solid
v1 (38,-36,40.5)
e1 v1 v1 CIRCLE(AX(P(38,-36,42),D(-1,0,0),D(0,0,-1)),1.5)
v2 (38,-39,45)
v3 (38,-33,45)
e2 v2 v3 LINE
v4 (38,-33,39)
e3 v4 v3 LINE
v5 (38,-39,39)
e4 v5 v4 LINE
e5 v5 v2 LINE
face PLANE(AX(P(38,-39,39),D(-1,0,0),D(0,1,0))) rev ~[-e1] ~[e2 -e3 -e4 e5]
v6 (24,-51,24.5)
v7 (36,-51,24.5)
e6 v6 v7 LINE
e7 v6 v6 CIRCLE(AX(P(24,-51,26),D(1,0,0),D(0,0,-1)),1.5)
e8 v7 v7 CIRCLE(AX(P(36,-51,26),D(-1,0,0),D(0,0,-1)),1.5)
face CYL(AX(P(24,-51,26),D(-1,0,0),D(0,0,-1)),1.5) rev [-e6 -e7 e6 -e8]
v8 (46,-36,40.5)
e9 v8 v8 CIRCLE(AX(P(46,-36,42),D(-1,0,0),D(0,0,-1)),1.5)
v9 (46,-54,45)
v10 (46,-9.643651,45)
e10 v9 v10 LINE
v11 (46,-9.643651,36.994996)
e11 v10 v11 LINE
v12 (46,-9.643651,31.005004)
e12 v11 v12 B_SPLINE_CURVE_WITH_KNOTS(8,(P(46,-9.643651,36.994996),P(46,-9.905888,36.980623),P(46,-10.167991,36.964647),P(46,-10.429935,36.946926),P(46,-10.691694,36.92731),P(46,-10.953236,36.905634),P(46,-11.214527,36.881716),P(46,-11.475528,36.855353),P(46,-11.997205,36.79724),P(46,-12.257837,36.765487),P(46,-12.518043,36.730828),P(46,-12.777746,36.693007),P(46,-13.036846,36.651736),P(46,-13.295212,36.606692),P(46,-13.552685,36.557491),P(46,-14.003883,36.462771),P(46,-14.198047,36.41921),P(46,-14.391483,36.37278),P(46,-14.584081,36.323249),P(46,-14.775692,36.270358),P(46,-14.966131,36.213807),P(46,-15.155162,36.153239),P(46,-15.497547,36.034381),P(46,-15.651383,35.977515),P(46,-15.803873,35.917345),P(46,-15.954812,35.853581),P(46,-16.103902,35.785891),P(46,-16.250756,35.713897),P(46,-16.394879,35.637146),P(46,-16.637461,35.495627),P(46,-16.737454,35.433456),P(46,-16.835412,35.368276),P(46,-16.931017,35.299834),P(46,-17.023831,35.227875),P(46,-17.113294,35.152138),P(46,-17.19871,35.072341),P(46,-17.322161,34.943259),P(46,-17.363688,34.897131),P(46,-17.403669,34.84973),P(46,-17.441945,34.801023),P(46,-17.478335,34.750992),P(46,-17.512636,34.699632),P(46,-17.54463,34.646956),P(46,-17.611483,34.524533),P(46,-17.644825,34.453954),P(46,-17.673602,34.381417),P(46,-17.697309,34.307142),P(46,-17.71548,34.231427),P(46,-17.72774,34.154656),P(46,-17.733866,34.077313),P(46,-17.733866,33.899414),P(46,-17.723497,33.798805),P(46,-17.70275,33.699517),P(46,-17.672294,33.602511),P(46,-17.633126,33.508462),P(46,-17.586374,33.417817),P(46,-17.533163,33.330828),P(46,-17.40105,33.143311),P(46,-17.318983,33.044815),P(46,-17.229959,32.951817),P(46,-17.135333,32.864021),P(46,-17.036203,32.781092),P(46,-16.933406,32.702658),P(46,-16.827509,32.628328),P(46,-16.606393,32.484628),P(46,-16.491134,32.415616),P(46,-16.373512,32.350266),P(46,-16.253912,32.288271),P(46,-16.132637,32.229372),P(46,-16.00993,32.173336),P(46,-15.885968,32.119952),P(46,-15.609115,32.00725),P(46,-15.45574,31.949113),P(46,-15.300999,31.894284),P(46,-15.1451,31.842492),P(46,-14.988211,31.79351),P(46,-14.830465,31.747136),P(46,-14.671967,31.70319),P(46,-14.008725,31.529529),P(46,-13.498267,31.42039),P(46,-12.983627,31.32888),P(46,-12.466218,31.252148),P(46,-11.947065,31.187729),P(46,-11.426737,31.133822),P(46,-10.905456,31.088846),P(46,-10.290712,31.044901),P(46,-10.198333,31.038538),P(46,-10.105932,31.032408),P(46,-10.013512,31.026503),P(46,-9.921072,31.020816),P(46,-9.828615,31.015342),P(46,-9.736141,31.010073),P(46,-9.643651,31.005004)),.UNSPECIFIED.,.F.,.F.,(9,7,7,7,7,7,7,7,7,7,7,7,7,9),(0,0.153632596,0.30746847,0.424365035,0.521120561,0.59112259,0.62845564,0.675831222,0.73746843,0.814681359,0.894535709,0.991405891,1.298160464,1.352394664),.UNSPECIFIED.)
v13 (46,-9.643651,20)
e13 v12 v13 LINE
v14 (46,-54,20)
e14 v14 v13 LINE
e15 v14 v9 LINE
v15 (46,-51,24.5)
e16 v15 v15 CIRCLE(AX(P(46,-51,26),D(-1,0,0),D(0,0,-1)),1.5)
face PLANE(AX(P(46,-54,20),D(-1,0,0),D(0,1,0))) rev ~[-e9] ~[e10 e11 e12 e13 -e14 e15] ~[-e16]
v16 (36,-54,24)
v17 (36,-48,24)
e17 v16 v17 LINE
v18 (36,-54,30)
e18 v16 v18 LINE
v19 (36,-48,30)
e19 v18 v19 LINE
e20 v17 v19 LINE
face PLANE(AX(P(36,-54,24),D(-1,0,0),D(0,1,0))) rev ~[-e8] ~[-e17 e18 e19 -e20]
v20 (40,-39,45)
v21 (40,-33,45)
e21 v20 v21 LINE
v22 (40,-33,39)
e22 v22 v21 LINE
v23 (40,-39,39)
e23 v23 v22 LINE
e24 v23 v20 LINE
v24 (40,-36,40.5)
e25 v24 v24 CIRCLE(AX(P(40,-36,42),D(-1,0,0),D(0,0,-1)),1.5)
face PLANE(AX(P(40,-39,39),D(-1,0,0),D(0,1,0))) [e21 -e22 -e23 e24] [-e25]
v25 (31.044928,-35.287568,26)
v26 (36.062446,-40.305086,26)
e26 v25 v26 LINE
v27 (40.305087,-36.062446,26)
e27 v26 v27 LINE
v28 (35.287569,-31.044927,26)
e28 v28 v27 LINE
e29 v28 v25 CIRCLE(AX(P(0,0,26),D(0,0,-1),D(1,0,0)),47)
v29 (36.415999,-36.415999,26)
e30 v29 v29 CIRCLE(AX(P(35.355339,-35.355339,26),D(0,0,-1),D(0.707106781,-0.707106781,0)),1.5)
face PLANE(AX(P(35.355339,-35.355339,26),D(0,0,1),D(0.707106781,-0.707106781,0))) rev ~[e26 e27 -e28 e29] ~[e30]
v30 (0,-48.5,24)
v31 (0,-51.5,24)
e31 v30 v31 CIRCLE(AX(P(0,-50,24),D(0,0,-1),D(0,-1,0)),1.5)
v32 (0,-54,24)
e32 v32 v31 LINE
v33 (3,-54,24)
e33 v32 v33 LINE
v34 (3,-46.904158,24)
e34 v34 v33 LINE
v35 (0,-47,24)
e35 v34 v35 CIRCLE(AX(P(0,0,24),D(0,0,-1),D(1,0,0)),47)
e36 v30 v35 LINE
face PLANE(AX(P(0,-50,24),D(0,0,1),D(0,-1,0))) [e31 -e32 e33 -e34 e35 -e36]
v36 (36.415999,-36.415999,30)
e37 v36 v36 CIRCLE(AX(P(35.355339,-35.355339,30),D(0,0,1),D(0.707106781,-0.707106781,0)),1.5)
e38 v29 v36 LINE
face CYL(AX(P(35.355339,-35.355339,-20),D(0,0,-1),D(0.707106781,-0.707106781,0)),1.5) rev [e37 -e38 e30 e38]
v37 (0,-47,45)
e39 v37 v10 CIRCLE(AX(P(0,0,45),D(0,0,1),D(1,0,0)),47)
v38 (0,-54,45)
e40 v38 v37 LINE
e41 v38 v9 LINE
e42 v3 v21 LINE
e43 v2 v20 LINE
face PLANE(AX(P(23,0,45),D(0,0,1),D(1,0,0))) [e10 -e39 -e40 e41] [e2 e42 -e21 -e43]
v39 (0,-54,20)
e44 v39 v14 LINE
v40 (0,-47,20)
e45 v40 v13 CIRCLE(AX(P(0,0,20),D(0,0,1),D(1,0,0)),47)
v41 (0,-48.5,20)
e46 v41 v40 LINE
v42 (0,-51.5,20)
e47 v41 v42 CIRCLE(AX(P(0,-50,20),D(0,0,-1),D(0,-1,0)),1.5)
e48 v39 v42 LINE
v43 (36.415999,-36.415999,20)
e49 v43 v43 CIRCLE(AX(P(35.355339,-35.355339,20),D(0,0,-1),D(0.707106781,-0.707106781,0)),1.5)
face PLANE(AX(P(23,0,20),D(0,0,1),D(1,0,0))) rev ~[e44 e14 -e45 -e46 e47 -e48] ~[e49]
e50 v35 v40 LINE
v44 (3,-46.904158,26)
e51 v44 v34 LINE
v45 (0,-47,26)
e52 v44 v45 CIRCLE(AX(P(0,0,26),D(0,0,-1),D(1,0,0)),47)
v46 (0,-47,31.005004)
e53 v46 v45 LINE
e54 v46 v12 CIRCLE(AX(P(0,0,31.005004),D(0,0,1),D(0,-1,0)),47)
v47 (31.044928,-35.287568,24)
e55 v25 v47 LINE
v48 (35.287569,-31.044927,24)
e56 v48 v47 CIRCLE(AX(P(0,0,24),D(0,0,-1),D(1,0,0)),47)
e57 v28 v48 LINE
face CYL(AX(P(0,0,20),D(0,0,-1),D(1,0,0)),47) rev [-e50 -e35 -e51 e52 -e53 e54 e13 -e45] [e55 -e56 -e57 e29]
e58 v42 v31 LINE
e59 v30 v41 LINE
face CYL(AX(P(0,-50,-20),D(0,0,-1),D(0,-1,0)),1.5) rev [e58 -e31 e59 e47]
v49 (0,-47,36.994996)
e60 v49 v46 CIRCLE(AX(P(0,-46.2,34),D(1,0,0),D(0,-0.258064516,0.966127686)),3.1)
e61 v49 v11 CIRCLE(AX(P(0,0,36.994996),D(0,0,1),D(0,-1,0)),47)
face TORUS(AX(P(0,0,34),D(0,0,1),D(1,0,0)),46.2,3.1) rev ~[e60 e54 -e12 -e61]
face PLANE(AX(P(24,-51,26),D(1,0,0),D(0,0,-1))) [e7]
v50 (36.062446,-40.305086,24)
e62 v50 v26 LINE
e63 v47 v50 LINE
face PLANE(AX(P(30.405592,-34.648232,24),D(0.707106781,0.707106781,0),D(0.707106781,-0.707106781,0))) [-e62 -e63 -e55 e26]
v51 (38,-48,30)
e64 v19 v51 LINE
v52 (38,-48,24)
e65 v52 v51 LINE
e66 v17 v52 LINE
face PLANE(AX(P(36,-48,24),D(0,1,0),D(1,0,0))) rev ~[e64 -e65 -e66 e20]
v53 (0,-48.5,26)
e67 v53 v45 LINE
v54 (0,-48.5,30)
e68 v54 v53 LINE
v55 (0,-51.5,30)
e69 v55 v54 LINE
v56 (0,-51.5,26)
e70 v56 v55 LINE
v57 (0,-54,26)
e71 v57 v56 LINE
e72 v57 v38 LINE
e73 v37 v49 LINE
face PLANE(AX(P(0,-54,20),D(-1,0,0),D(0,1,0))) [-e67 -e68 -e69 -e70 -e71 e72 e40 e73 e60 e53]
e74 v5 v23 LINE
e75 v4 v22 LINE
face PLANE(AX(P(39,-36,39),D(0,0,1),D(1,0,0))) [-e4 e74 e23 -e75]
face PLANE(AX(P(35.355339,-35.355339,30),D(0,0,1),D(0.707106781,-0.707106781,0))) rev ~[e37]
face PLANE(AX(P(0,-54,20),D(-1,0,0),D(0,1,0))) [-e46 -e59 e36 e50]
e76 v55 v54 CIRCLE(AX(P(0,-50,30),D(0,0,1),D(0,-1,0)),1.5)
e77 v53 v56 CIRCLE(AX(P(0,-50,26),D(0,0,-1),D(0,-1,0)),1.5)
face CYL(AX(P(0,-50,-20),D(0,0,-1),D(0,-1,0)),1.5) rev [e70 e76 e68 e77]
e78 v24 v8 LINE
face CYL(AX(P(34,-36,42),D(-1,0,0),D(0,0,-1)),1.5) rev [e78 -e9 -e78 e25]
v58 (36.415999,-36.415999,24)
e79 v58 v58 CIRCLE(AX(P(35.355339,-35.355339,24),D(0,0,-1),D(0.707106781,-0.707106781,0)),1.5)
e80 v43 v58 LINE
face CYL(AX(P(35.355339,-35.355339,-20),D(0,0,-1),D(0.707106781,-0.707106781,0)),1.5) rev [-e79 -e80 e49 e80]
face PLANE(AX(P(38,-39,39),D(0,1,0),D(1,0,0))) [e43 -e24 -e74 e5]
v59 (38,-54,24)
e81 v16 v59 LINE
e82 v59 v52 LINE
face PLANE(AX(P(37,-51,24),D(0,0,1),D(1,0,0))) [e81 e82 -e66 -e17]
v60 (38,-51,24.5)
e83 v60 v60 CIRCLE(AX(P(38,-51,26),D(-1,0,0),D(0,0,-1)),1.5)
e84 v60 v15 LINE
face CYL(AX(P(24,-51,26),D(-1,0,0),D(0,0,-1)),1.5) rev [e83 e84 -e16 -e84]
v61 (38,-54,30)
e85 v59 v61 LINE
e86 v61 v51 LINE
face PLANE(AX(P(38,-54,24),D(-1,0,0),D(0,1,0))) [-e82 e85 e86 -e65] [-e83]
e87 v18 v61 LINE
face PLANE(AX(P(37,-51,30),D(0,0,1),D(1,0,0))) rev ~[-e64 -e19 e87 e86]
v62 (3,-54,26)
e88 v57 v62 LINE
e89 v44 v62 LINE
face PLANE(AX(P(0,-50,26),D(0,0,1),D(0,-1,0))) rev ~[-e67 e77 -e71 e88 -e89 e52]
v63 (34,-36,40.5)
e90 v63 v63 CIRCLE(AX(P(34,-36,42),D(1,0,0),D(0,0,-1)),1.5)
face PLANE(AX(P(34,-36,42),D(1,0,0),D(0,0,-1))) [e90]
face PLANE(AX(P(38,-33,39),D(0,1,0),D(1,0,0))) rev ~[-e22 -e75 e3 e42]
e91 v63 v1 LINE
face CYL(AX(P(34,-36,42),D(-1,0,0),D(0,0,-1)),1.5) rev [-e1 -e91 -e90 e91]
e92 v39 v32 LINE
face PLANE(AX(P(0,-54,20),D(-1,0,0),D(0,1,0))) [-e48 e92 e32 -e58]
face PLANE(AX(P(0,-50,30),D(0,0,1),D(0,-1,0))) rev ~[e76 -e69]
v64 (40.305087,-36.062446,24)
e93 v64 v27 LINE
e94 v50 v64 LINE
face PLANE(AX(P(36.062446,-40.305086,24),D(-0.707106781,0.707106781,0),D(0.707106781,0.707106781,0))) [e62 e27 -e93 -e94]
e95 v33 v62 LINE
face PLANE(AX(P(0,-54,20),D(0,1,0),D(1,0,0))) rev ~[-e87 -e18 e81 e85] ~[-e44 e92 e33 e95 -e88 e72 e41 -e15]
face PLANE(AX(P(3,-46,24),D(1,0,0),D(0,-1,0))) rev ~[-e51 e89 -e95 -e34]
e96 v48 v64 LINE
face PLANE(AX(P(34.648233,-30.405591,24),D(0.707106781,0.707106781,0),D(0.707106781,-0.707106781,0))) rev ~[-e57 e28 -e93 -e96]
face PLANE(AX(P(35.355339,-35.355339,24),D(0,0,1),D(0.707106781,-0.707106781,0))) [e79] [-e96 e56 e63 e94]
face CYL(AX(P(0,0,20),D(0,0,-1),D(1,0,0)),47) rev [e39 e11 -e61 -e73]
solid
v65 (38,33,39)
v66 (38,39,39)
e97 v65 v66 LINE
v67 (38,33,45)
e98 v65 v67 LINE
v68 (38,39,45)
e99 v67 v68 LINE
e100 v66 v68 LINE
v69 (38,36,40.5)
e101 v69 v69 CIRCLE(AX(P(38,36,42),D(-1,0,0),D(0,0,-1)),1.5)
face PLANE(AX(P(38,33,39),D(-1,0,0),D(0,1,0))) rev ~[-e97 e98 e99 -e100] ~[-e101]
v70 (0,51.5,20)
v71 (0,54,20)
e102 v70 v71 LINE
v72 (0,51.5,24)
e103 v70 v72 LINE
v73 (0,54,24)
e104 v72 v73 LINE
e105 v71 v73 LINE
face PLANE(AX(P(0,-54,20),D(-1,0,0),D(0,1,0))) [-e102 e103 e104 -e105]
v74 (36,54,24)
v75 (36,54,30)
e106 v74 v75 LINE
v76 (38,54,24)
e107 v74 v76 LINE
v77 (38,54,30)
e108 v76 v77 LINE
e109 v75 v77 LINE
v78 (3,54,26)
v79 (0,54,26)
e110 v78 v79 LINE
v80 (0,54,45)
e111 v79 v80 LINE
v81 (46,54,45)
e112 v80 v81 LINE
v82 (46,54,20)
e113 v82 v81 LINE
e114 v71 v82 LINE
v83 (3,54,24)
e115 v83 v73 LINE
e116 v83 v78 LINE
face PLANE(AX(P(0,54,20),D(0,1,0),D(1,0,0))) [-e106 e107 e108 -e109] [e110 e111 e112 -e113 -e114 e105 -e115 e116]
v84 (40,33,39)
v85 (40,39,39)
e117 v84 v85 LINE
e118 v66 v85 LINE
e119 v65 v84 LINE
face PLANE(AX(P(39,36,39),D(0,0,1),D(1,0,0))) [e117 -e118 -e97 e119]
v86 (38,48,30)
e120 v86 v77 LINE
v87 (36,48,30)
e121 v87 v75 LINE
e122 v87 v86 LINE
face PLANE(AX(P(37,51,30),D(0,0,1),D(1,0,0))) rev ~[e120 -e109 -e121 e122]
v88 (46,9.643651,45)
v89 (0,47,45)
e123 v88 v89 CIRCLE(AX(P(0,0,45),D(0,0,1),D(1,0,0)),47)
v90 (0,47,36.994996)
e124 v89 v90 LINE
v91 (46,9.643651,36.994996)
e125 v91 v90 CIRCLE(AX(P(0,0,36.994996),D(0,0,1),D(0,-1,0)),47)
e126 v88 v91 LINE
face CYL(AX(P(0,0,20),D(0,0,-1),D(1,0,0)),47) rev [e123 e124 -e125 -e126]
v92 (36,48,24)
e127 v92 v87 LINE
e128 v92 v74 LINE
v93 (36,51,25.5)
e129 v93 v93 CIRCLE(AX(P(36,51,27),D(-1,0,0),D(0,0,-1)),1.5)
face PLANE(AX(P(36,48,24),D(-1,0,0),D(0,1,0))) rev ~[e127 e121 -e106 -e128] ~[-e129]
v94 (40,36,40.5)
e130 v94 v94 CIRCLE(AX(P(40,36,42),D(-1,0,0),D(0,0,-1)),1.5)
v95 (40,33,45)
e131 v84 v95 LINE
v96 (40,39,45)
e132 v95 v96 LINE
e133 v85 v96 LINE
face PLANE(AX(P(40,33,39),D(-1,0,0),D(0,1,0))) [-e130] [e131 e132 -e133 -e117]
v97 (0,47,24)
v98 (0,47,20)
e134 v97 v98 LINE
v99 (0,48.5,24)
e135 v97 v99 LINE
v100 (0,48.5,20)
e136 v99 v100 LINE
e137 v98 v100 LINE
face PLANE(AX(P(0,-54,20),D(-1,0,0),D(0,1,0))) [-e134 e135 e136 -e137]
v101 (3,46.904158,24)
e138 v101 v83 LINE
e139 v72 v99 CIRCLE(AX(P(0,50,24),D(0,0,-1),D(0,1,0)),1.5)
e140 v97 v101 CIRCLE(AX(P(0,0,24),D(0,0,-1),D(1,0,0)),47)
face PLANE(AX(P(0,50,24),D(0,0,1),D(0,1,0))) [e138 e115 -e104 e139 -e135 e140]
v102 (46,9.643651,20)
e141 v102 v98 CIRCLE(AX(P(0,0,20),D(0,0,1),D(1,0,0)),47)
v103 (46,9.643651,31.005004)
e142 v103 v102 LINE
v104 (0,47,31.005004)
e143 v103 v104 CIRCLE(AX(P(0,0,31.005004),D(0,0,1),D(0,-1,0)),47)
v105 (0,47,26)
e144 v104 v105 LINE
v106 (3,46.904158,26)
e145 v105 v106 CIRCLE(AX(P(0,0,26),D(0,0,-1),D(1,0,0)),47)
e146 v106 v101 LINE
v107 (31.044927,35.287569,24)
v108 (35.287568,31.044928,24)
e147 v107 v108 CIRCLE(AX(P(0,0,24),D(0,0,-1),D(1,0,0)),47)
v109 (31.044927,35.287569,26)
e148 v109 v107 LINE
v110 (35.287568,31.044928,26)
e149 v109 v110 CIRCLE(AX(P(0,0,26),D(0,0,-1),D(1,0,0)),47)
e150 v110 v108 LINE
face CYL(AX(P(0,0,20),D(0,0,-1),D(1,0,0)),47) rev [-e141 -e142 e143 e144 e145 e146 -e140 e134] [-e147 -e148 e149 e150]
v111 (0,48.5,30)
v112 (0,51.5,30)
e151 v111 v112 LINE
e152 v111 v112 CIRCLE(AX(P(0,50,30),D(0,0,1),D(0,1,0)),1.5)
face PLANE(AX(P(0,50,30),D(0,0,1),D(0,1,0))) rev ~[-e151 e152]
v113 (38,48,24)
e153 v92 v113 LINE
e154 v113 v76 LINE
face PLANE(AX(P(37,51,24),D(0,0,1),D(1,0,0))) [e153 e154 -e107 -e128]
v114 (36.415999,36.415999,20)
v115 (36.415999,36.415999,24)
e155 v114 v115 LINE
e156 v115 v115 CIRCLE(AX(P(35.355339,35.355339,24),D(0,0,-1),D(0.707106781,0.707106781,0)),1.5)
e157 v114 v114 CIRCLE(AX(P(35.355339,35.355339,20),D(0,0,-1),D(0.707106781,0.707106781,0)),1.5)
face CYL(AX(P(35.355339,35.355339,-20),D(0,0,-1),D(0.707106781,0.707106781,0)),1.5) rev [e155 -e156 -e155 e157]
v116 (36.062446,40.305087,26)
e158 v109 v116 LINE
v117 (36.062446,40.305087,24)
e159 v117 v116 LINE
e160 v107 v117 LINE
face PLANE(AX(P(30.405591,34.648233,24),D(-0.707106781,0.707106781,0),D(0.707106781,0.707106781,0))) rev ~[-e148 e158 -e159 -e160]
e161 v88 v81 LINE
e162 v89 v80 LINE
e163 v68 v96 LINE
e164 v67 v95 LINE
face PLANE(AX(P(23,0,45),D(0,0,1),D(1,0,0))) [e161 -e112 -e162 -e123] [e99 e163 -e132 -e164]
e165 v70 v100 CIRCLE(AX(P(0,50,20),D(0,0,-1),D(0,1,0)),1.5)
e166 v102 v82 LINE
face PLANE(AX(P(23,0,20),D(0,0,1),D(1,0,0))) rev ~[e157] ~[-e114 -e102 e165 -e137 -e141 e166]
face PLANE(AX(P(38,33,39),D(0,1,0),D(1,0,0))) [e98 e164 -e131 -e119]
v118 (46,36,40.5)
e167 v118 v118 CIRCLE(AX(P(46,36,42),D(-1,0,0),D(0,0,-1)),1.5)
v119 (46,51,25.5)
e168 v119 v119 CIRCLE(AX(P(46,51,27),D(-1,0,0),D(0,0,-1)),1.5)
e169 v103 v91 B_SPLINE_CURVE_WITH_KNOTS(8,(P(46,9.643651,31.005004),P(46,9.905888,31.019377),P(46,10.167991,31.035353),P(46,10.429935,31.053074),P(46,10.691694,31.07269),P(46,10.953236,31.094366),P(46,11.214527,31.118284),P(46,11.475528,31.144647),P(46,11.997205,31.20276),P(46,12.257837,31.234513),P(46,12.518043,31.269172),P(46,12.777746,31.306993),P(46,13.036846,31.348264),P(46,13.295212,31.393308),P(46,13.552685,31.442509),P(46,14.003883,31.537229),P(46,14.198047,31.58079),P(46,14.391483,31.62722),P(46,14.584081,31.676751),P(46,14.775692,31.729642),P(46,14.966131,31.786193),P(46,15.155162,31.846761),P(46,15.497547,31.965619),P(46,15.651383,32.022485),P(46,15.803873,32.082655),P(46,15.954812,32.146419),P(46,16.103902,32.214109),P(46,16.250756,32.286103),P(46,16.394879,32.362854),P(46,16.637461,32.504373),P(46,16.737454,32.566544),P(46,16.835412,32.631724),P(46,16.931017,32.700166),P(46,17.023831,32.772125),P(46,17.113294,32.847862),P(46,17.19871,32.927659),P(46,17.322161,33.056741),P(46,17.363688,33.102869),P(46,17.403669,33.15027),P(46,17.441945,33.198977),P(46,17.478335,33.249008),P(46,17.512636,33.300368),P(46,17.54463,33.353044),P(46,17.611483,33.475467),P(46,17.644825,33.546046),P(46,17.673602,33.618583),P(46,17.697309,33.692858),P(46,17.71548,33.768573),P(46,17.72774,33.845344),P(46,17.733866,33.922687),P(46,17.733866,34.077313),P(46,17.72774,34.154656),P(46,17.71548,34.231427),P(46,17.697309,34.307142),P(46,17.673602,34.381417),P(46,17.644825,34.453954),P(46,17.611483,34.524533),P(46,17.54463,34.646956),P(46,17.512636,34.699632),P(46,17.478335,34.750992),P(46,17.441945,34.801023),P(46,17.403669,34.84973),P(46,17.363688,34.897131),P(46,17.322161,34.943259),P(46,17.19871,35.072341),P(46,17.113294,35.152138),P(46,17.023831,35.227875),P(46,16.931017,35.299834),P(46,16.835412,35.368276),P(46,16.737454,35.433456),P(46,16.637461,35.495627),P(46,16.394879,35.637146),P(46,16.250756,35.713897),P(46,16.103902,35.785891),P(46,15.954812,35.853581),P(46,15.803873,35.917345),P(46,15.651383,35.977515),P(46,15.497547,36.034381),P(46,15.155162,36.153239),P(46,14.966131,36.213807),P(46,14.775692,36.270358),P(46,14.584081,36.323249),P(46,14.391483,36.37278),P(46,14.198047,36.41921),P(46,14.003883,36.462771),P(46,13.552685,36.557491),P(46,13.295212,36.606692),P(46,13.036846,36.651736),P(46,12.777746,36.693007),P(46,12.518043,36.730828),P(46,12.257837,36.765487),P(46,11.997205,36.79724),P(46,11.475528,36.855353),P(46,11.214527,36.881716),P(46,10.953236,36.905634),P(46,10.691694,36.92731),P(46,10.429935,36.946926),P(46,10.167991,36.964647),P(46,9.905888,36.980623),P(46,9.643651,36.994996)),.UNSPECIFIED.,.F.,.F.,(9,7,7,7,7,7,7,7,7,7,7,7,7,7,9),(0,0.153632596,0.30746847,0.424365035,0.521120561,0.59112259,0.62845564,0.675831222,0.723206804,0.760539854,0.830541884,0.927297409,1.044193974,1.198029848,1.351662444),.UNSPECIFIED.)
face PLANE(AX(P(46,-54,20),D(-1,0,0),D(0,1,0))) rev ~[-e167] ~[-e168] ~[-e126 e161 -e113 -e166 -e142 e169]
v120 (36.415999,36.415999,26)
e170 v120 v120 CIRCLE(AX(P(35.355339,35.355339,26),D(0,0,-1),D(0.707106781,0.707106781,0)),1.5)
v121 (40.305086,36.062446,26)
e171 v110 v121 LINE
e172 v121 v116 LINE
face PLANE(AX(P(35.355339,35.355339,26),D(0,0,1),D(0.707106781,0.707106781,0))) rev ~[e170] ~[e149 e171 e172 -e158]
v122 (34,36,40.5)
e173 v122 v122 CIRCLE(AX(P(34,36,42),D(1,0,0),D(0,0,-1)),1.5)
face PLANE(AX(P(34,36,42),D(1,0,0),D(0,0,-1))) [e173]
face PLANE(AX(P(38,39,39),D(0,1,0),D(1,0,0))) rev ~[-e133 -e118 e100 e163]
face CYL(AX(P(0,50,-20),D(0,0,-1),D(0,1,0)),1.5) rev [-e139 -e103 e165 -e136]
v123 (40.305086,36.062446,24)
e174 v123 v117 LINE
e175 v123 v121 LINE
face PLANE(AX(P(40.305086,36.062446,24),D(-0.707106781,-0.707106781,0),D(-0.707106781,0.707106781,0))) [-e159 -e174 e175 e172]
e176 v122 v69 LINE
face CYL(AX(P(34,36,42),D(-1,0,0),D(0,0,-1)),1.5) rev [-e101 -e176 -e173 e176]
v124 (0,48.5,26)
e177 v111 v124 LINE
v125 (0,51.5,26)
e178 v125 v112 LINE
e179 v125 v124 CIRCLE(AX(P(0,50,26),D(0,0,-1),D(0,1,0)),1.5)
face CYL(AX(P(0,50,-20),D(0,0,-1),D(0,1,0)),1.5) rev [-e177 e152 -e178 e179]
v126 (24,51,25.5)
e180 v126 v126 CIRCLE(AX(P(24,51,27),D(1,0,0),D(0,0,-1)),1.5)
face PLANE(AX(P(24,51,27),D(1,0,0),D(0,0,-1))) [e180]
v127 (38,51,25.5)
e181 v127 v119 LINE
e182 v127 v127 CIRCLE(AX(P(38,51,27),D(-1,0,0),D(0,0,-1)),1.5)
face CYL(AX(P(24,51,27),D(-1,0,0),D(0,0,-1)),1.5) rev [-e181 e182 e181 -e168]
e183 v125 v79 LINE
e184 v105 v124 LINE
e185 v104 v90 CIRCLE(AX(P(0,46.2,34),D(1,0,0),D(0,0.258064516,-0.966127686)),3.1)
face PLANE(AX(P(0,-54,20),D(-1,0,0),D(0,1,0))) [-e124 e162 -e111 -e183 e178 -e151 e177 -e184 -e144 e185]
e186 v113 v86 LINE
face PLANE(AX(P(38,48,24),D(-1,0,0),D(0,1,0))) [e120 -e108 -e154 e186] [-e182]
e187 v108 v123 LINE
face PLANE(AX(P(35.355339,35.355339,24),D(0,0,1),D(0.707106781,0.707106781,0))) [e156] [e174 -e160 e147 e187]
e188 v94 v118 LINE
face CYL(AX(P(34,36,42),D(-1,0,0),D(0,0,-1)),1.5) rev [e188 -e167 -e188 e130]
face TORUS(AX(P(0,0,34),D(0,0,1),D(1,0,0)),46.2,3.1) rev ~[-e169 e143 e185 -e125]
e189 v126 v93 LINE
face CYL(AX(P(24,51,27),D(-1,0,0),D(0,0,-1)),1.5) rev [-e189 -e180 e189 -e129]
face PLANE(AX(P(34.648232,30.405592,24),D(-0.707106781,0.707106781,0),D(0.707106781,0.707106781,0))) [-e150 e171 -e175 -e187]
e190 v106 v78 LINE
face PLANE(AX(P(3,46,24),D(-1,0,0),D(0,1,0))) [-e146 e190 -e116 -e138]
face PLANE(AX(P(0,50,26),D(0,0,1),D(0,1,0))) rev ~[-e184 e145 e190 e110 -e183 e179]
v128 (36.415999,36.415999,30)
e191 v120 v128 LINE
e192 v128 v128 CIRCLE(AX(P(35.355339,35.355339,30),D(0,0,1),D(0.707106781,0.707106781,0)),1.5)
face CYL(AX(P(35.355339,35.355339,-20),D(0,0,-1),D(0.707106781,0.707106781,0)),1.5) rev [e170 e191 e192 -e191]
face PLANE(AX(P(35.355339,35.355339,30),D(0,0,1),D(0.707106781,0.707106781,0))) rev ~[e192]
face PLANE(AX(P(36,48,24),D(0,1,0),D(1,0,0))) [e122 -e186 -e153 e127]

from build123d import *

# Parameters (mm, degrees)
BOX178_W                    = 2
BOX178_H                    = 6
BOX178_DEPTH                = 6
BOX179_W                    = 2
BOX179_H                    = 6
BOX179_DEPTH                = 6
BOX180_W                    = 2
BOX180_H                    = 6
BOX180_DEPTH                = 6
BOX177_W                    = 2
BOX177_H                    = 6
BOX177_DEPTH                = 6
CYLINDER392_R               = 1.5
CYLINDER392_DEPTH           = 100
CYLINDER393_R               = 1.5
CYLINDER393_DEPTH           = 100
CYLINDER394_R               = 1.5
CYLINDER394_DEPTH           = 100
CYLINDER391_R               = 1.5
CYLINDER391_DEPTH           = 100
BOX171_W                    = 8
BOX171_H                    = 6
BOX171_DEPTH                = 2
BOX171_PLACEMENT_ANGLE      = 45
BOX165_W                    = 8
BOX165_H                    = 6
BOX165_DEPTH                = 2
BOX166_W                    = 8
BOX166_H                    = 6
BOX166_DEPTH                = 2
BOX166_PLACEMENT_ANGLE      = 135
BOX168_W                    = 8
BOX168_H                    = 6
BOX168_DEPTH                = 2
BOX169_W                    = 8
BOX169_H                    = 6
BOX169_DEPTH                = 2
BOX169_PLACEMENT_ANGLE      = 225
BOX172_W                    = 8
BOX172_H                    = 6
BOX172_DEPTH                = 2
BOX170_W                    = 8
BOX170_H                    = 6
BOX170_DEPTH                = 2
BOX170_PLACEMENT_ANGLE      = 45
BOX167_W                    = 8
BOX167_H                    = 6
BOX167_DEPTH                = 2
CYLINDER375_R               = 1.5
CYLINDER375_DEPTH           = 50
CYLINDER375_PLACEMENT_ANGLE = 45
CYLINDER376_R               = 1.5
CYLINDER376_DEPTH           = 50
CYLINDER377_R               = 1.5
CYLINDER377_DEPTH           = 50
CYLINDER377_PLACEMENT_ANGLE = 135
CYLINDER378_R               = 1.5
CYLINDER378_DEPTH           = 50
CYLINDER379_R               = 1.5
CYLINDER379_DEPTH           = 50
CYLINDER379_PLACEMENT_ANGLE = 225
CYLINDER380_R               = 1.5
CYLINDER380_DEPTH           = 50
CYLINDER381_R               = 1.5
CYLINDER381_DEPTH           = 50
CYLINDER381_PLACEMENT_ANGLE = 45
CYLINDER374_R               = 1.5
CYLINDER374_DEPTH           = 50
TORUS005_R                  = 3.1
CYLINDER_R                  = 47
CYLINDER_DEPTH              = 25
BOX156_W                    = 46
BOX156_H                    = 108
BOX156_DEPTH                = 25


with BuildPart() as krychle178:
    # Box178 → Box178 (new body)
    with BuildSketch(Plane(origin=(36, -54, 24), x_dir=(1, 0, 0), z_dir=(0, 0, 1))):
        with Locations((1, 3)):
            Rectangle(BOX178_W, BOX178_H)
    extrude(amount=BOX178_DEPTH)


with BuildPart() as krychle179:
    # Box179 → Box179 (new body)
    with BuildSketch(Plane(origin=(38, 33, 39), x_dir=(1, 0, 0), z_dir=(0, 0, 1))):
        with Locations((1, 3)):
            Rectangle(BOX179_W, BOX179_H)
    extrude(amount=BOX179_DEPTH)


with BuildPart() as krychle180:
    # Box180 → Box180 (new body)
    with BuildSketch(Plane(origin=(38, -39, 39), x_dir=(1, 0, 0), z_dir=(0, 0, 1))):
        with Locations((1, 3)):
            Rectangle(BOX180_W, BOX180_H)
    extrude(amount=BOX180_DEPTH)


with BuildPart() as compound304:
    # Box177 → Box177 (new body)
    with BuildSketch(Plane(origin=(36, 48, 24), x_dir=(1, 0, 0), z_dir=(0, 0, 1))):
        with Locations((1, 3)):
            Rectangle(BOX177_W, BOX177_H)
    extrude(amount=BOX177_DEPTH)

    # Compound304: union Krychle178, Krychle179, Krychle180
    add(krychle178.part)
    add(krychle179.part)
    add(krychle180.part)


with BuildPart() as v_lec392:
    # Cylinder392 → Cylinder392 (new body)
    with BuildSketch(Plane(origin=(24, -51, 26), x_dir=(0, 0, -1), z_dir=(1, 0, 0))):
        Circle(CYLINDER392_R)
    extrude(amount=CYLINDER392_DEPTH)


with BuildPart() as v_lec393:
    # Cylinder393 → Cylinder393 (new body)
    with BuildSketch(Plane(origin=(34, 36, 42), x_dir=(0, 0, -1), z_dir=(1, 0, 0))):
        Circle(CYLINDER393_R)
    extrude(amount=CYLINDER393_DEPTH)


with BuildPart() as v_lec394:
    # Cylinder394 → Cylinder394 (new body)
    with BuildSketch(Plane(origin=(34, -36, 42), x_dir=(0, 0, -1), z_dir=(1, 0, 0))):
        Circle(CYLINDER394_R)
    extrude(amount=CYLINDER394_DEPTH)


with BuildPart() as compound301:
    # Cylinder391 → Cylinder391 (new body)
    with BuildSketch(Plane(origin=(24, 51, 27), x_dir=(0, 0, -1), z_dir=(1, 0, 0))):
        Circle(CYLINDER391_R)
    extrude(amount=CYLINDER391_DEPTH)

    # Compound301: union Válec392, Válec393, Válec394
    add(v_lec392.part)
    add(v_lec393.part)
    add(v_lec394.part)


with BuildPart() as krychle171:
    # Box171 → Box171 (new body)
    with BuildSketch(Plane.XY):
        with Locations((4, 3)):
            Rectangle(BOX171_W, BOX171_H)
    extrude(amount=BOX171_DEPTH)


with BuildPart() as krychle171_1:
    # Box171 placement: moved
    add(krychle171.part.moved(Location((34.648232, 30.405592, 23))).rotate(Axis((34.648232, 30.405592, 23), (0, 0, 1)), BOX171_PLACEMENT_ANGLE))


with BuildPart() as krychle165:
    # Box165 → Box165 (new body)
    with BuildSketch(Plane(origin=(3, 46, 23), x_dir=(0, 1, 0), z_dir=(0, 0, 1))):
        with Locations((4, 3)):
            Rectangle(BOX165_W, BOX165_H)
    extrude(amount=BOX165_DEPTH)


with BuildPart() as krychle166:
    # Box166 → Box166 (new body)
    with BuildSketch(Plane.XY):
        with Locations((4, 3)):
            Rectangle(BOX166_W, BOX166_H)
    extrude(amount=BOX166_DEPTH)


with BuildPart() as krychle166_1:
    # Box166 placement: moved
    add(krychle166.part.moved(Location((-30.405592, 34.648232, 23))).rotate(Axis((-30.405592, 34.648232, 23), (0, 0, 1)), BOX166_PLACEMENT_ANGLE))


with BuildPart() as krychle168:
    # Box168 → Box168 (new body)
    with BuildSketch(Plane(origin=(-46, 3, 23), x_dir=(-1, 0, 0), z_dir=(0, 0, 1))):
        with Locations((4, 3)):
            Rectangle(BOX168_W, BOX168_H)
    extrude(amount=BOX168_DEPTH)


with BuildPart() as krychle169:
    # Box169 → Box169 (new body)
    with BuildSketch(Plane.XY):
        with Locations((4, 3)):
            Rectangle(BOX169_W, BOX169_H)
    extrude(amount=BOX169_DEPTH)


with BuildPart() as krychle169_1:
    # Box169 placement: moved
    add(krychle169.part.moved(Location((-34.648232, -30.405592, 23))).rotate(Axis((-34.648232, -30.405592, 23), (0, 0, 1)), BOX169_PLACEMENT_ANGLE))


with BuildPart() as krychle172:
    # Box172 → Box172 (new body)
    with BuildSketch(Plane(origin=(-3, -46, 23), x_dir=(0, -1, 0), z_dir=(0, 0, 1))):
        with Locations((4, 3)):
            Rectangle(BOX172_W, BOX172_H)
    extrude(amount=BOX172_DEPTH)


with BuildPart() as krychle170:
    # Box170 → Box170 (new body)
    with BuildSketch(Plane.XY):
        with Locations((4, 3)):
            Rectangle(BOX170_W, BOX170_H)
    extrude(amount=BOX170_DEPTH)


with BuildPart() as krychle170_1:
    # Box170 placement: moved
    add(krychle170.part.moved(Location((30.405592, -34.648232, 23))).rotate(Axis((30.405592, -34.648232, 23), (0, 0, -1)), BOX170_PLACEMENT_ANGLE))


with BuildPart() as compound300:
    # Box167 → Box167 (new body)
    with BuildSketch(Plane(origin=(46, -3, 23), x_dir=(1, 0, 0), z_dir=(0, 0, 1))):
        with Locations((4, 3)):
            Rectangle(BOX167_W, BOX167_H)
    extrude(amount=BOX167_DEPTH)

    # Compound300: union Krychle171, Krychle165, Krychle166, Krychle168, Krychle169, Krychle172, Krychle170
    add(krychle171_1.part)
    add(krychle165.part)
    add(krychle166_1.part)
    add(krychle168.part)
    add(krychle169_1.part)
    add(krychle172.part)
    add(krychle170_1.part)


with BuildPart() as compound300_1:
    # Compound300 placement: moved
    add(compound300.part.moved(Location((0, 0, 1))))


with BuildPart() as v_lec375:
    # Cylinder375 → Cylinder375 (new body)
    with BuildSketch(Plane.XY):
        Circle(CYLINDER375_R)
    extrude(amount=CYLINDER375_DEPTH)


with BuildPart() as v_lec375_1:
    # Cylinder375 placement: moved
    add(v_lec375.part.moved(Location((35.355339, 35.355339, -15))).rotate(Axis((35.355339, 35.355339, -15), (0, 0, 1)), CYLINDER375_PLACEMENT_ANGLE))


with BuildPart() as v_lec376:
    # Cylinder376 → Cylinder376 (new body)
    with BuildSketch(Plane(origin=(0, 50, -15), x_dir=(0, 1, 0), z_dir=(0, 0, 1))):
        Circle(CYLINDER376_R)
    extrude(amount=CYLINDER376_DEPTH)


with BuildPart() as v_lec377:
    # Cylinder377 → Cylinder377 (new body)
    with BuildSketch(Plane.XY):
        Circle(CYLINDER377_R)
    extrude(amount=CYLINDER377_DEPTH)


with BuildPart() as v_lec377_1:
    # Cylinder377 placement: moved
    add(v_lec377.part.moved(Location((-35.355339, 35.355339, -15))).rotate(Axis((-35.355339, 35.355339, -15), (0, 0, 1)), CYLINDER377_PLACEMENT_ANGLE))


with BuildPart() as v_lec378:
    # Cylinder378 → Cylinder378 (new body)
    with BuildSketch(Plane(origin=(-50, 0, -15), x_dir=(-1, 0, 0), z_dir=(0, 0, 1))):
        Circle(CYLINDER378_R)
    extrude(amount=CYLINDER378_DEPTH)


with BuildPart() as v_lec379:
    # Cylinder379 → Cylinder379 (new body)
    with BuildSketch(Plane.XY):
        Circle(CYLINDER379_R)
    extrude(amount=CYLINDER379_DEPTH)


with BuildPart() as v_lec379_1:
    # Cylinder379 placement: moved
    add(v_lec379.part.moved(Location((-35.355339, -35.355339, -15))).rotate(Axis((-35.355339, -35.355339, -15), (0, 0, 1)), CYLINDER379_PLACEMENT_ANGLE))


with BuildPart() as v_lec380:
    # Cylinder380 → Cylinder380 (new body)
    with BuildSketch(Plane(origin=(0, -50, -15), x_dir=(0, -1, 0), z_dir=(0, 0, 1))):
        Circle(CYLINDER380_R)
    extrude(amount=CYLINDER380_DEPTH)


with BuildPart() as v_lec381:
    # Cylinder381 → Cylinder381 (new body)
    with BuildSketch(Plane.XY):
        Circle(CYLINDER381_R)
    extrude(amount=CYLINDER381_DEPTH)


with BuildPart() as v_lec381_1:
    # Cylinder381 placement: moved
    add(v_lec381.part.moved(Location((35.355339, -35.355339, -15))).rotate(Axis((35.355339, -35.355339, -15), (0, 0, -1)), CYLINDER381_PLACEMENT_ANGLE))


with BuildPart() as compound298:
    # Cylinder374 → Cylinder374 (new body)
    with BuildSketch(Plane(origin=(50, 0, -15), x_dir=(1, 0, 0), z_dir=(0, 0, 1))):
        Circle(CYLINDER374_R)
    extrude(amount=CYLINDER374_DEPTH)

    # Compound298: union Válec375, Válec376, Válec377, Válec378, Válec379, Válec380, Válec381
    add(v_lec375_1.part)
    add(v_lec376.part)
    add(v_lec377_1.part)
    add(v_lec378.part)
    add(v_lec379_1.part)
    add(v_lec380.part)
    add(v_lec381_1.part)


with BuildPart() as compound298_1:
    # Compound298 placement: moved
    add(compound298.part.moved(Location((0, 0, -5))))


with BuildPart() as anuloid005:
    # Torus005 → Torus005 (revolve)
    with BuildSketch(Plane(origin=(0, 0, 34), x_dir=(1, 0, 0), z_dir=(0, -1, 0))):
        with Locations((46.2, 0)):
            Circle(TORUS005_R)
    revolve(axis=Axis((0, 0, 34), (0, 0, 1)))


with BuildPart() as v_lec:
    # Cylinder → Cylinder (new body)
    with BuildSketch(Plane.XY.offset(20)):
        Circle(CYLINDER_R)
    extrude(amount=CYLINDER_DEPTH)


with BuildPart() as cut158:
    # Box156 → Box156 (new body)
    with BuildSketch(Plane(origin=(0, -54, 20), x_dir=(1, 0, 0), z_dir=(0, 0, 1))):
        with Locations((23, 54)):
            Rectangle(BOX156_W, BOX156_H)
    extrude(amount=BOX156_DEPTH)

    # Cut153: cut Válec
    add(v_lec.part, mode=Mode.SUBTRACT)

    # Cut154: cut Anuloid005
    add(anuloid005.part, mode=Mode.SUBTRACT)

    # Cut155: cut Compound298
    add(compound298_1.part, mode=Mode.SUBTRACT)

    # Cut156: cut Compound300
    add(compound300_1.part, mode=Mode.SUBTRACT)

    # Cut157: cut Compound301
    add(compound301.part, mode=Mode.SUBTRACT)

    # Cut158: cut Compound304
    add(compound304.part, mode=Mode.SUBTRACT)


solid = cut158.part
